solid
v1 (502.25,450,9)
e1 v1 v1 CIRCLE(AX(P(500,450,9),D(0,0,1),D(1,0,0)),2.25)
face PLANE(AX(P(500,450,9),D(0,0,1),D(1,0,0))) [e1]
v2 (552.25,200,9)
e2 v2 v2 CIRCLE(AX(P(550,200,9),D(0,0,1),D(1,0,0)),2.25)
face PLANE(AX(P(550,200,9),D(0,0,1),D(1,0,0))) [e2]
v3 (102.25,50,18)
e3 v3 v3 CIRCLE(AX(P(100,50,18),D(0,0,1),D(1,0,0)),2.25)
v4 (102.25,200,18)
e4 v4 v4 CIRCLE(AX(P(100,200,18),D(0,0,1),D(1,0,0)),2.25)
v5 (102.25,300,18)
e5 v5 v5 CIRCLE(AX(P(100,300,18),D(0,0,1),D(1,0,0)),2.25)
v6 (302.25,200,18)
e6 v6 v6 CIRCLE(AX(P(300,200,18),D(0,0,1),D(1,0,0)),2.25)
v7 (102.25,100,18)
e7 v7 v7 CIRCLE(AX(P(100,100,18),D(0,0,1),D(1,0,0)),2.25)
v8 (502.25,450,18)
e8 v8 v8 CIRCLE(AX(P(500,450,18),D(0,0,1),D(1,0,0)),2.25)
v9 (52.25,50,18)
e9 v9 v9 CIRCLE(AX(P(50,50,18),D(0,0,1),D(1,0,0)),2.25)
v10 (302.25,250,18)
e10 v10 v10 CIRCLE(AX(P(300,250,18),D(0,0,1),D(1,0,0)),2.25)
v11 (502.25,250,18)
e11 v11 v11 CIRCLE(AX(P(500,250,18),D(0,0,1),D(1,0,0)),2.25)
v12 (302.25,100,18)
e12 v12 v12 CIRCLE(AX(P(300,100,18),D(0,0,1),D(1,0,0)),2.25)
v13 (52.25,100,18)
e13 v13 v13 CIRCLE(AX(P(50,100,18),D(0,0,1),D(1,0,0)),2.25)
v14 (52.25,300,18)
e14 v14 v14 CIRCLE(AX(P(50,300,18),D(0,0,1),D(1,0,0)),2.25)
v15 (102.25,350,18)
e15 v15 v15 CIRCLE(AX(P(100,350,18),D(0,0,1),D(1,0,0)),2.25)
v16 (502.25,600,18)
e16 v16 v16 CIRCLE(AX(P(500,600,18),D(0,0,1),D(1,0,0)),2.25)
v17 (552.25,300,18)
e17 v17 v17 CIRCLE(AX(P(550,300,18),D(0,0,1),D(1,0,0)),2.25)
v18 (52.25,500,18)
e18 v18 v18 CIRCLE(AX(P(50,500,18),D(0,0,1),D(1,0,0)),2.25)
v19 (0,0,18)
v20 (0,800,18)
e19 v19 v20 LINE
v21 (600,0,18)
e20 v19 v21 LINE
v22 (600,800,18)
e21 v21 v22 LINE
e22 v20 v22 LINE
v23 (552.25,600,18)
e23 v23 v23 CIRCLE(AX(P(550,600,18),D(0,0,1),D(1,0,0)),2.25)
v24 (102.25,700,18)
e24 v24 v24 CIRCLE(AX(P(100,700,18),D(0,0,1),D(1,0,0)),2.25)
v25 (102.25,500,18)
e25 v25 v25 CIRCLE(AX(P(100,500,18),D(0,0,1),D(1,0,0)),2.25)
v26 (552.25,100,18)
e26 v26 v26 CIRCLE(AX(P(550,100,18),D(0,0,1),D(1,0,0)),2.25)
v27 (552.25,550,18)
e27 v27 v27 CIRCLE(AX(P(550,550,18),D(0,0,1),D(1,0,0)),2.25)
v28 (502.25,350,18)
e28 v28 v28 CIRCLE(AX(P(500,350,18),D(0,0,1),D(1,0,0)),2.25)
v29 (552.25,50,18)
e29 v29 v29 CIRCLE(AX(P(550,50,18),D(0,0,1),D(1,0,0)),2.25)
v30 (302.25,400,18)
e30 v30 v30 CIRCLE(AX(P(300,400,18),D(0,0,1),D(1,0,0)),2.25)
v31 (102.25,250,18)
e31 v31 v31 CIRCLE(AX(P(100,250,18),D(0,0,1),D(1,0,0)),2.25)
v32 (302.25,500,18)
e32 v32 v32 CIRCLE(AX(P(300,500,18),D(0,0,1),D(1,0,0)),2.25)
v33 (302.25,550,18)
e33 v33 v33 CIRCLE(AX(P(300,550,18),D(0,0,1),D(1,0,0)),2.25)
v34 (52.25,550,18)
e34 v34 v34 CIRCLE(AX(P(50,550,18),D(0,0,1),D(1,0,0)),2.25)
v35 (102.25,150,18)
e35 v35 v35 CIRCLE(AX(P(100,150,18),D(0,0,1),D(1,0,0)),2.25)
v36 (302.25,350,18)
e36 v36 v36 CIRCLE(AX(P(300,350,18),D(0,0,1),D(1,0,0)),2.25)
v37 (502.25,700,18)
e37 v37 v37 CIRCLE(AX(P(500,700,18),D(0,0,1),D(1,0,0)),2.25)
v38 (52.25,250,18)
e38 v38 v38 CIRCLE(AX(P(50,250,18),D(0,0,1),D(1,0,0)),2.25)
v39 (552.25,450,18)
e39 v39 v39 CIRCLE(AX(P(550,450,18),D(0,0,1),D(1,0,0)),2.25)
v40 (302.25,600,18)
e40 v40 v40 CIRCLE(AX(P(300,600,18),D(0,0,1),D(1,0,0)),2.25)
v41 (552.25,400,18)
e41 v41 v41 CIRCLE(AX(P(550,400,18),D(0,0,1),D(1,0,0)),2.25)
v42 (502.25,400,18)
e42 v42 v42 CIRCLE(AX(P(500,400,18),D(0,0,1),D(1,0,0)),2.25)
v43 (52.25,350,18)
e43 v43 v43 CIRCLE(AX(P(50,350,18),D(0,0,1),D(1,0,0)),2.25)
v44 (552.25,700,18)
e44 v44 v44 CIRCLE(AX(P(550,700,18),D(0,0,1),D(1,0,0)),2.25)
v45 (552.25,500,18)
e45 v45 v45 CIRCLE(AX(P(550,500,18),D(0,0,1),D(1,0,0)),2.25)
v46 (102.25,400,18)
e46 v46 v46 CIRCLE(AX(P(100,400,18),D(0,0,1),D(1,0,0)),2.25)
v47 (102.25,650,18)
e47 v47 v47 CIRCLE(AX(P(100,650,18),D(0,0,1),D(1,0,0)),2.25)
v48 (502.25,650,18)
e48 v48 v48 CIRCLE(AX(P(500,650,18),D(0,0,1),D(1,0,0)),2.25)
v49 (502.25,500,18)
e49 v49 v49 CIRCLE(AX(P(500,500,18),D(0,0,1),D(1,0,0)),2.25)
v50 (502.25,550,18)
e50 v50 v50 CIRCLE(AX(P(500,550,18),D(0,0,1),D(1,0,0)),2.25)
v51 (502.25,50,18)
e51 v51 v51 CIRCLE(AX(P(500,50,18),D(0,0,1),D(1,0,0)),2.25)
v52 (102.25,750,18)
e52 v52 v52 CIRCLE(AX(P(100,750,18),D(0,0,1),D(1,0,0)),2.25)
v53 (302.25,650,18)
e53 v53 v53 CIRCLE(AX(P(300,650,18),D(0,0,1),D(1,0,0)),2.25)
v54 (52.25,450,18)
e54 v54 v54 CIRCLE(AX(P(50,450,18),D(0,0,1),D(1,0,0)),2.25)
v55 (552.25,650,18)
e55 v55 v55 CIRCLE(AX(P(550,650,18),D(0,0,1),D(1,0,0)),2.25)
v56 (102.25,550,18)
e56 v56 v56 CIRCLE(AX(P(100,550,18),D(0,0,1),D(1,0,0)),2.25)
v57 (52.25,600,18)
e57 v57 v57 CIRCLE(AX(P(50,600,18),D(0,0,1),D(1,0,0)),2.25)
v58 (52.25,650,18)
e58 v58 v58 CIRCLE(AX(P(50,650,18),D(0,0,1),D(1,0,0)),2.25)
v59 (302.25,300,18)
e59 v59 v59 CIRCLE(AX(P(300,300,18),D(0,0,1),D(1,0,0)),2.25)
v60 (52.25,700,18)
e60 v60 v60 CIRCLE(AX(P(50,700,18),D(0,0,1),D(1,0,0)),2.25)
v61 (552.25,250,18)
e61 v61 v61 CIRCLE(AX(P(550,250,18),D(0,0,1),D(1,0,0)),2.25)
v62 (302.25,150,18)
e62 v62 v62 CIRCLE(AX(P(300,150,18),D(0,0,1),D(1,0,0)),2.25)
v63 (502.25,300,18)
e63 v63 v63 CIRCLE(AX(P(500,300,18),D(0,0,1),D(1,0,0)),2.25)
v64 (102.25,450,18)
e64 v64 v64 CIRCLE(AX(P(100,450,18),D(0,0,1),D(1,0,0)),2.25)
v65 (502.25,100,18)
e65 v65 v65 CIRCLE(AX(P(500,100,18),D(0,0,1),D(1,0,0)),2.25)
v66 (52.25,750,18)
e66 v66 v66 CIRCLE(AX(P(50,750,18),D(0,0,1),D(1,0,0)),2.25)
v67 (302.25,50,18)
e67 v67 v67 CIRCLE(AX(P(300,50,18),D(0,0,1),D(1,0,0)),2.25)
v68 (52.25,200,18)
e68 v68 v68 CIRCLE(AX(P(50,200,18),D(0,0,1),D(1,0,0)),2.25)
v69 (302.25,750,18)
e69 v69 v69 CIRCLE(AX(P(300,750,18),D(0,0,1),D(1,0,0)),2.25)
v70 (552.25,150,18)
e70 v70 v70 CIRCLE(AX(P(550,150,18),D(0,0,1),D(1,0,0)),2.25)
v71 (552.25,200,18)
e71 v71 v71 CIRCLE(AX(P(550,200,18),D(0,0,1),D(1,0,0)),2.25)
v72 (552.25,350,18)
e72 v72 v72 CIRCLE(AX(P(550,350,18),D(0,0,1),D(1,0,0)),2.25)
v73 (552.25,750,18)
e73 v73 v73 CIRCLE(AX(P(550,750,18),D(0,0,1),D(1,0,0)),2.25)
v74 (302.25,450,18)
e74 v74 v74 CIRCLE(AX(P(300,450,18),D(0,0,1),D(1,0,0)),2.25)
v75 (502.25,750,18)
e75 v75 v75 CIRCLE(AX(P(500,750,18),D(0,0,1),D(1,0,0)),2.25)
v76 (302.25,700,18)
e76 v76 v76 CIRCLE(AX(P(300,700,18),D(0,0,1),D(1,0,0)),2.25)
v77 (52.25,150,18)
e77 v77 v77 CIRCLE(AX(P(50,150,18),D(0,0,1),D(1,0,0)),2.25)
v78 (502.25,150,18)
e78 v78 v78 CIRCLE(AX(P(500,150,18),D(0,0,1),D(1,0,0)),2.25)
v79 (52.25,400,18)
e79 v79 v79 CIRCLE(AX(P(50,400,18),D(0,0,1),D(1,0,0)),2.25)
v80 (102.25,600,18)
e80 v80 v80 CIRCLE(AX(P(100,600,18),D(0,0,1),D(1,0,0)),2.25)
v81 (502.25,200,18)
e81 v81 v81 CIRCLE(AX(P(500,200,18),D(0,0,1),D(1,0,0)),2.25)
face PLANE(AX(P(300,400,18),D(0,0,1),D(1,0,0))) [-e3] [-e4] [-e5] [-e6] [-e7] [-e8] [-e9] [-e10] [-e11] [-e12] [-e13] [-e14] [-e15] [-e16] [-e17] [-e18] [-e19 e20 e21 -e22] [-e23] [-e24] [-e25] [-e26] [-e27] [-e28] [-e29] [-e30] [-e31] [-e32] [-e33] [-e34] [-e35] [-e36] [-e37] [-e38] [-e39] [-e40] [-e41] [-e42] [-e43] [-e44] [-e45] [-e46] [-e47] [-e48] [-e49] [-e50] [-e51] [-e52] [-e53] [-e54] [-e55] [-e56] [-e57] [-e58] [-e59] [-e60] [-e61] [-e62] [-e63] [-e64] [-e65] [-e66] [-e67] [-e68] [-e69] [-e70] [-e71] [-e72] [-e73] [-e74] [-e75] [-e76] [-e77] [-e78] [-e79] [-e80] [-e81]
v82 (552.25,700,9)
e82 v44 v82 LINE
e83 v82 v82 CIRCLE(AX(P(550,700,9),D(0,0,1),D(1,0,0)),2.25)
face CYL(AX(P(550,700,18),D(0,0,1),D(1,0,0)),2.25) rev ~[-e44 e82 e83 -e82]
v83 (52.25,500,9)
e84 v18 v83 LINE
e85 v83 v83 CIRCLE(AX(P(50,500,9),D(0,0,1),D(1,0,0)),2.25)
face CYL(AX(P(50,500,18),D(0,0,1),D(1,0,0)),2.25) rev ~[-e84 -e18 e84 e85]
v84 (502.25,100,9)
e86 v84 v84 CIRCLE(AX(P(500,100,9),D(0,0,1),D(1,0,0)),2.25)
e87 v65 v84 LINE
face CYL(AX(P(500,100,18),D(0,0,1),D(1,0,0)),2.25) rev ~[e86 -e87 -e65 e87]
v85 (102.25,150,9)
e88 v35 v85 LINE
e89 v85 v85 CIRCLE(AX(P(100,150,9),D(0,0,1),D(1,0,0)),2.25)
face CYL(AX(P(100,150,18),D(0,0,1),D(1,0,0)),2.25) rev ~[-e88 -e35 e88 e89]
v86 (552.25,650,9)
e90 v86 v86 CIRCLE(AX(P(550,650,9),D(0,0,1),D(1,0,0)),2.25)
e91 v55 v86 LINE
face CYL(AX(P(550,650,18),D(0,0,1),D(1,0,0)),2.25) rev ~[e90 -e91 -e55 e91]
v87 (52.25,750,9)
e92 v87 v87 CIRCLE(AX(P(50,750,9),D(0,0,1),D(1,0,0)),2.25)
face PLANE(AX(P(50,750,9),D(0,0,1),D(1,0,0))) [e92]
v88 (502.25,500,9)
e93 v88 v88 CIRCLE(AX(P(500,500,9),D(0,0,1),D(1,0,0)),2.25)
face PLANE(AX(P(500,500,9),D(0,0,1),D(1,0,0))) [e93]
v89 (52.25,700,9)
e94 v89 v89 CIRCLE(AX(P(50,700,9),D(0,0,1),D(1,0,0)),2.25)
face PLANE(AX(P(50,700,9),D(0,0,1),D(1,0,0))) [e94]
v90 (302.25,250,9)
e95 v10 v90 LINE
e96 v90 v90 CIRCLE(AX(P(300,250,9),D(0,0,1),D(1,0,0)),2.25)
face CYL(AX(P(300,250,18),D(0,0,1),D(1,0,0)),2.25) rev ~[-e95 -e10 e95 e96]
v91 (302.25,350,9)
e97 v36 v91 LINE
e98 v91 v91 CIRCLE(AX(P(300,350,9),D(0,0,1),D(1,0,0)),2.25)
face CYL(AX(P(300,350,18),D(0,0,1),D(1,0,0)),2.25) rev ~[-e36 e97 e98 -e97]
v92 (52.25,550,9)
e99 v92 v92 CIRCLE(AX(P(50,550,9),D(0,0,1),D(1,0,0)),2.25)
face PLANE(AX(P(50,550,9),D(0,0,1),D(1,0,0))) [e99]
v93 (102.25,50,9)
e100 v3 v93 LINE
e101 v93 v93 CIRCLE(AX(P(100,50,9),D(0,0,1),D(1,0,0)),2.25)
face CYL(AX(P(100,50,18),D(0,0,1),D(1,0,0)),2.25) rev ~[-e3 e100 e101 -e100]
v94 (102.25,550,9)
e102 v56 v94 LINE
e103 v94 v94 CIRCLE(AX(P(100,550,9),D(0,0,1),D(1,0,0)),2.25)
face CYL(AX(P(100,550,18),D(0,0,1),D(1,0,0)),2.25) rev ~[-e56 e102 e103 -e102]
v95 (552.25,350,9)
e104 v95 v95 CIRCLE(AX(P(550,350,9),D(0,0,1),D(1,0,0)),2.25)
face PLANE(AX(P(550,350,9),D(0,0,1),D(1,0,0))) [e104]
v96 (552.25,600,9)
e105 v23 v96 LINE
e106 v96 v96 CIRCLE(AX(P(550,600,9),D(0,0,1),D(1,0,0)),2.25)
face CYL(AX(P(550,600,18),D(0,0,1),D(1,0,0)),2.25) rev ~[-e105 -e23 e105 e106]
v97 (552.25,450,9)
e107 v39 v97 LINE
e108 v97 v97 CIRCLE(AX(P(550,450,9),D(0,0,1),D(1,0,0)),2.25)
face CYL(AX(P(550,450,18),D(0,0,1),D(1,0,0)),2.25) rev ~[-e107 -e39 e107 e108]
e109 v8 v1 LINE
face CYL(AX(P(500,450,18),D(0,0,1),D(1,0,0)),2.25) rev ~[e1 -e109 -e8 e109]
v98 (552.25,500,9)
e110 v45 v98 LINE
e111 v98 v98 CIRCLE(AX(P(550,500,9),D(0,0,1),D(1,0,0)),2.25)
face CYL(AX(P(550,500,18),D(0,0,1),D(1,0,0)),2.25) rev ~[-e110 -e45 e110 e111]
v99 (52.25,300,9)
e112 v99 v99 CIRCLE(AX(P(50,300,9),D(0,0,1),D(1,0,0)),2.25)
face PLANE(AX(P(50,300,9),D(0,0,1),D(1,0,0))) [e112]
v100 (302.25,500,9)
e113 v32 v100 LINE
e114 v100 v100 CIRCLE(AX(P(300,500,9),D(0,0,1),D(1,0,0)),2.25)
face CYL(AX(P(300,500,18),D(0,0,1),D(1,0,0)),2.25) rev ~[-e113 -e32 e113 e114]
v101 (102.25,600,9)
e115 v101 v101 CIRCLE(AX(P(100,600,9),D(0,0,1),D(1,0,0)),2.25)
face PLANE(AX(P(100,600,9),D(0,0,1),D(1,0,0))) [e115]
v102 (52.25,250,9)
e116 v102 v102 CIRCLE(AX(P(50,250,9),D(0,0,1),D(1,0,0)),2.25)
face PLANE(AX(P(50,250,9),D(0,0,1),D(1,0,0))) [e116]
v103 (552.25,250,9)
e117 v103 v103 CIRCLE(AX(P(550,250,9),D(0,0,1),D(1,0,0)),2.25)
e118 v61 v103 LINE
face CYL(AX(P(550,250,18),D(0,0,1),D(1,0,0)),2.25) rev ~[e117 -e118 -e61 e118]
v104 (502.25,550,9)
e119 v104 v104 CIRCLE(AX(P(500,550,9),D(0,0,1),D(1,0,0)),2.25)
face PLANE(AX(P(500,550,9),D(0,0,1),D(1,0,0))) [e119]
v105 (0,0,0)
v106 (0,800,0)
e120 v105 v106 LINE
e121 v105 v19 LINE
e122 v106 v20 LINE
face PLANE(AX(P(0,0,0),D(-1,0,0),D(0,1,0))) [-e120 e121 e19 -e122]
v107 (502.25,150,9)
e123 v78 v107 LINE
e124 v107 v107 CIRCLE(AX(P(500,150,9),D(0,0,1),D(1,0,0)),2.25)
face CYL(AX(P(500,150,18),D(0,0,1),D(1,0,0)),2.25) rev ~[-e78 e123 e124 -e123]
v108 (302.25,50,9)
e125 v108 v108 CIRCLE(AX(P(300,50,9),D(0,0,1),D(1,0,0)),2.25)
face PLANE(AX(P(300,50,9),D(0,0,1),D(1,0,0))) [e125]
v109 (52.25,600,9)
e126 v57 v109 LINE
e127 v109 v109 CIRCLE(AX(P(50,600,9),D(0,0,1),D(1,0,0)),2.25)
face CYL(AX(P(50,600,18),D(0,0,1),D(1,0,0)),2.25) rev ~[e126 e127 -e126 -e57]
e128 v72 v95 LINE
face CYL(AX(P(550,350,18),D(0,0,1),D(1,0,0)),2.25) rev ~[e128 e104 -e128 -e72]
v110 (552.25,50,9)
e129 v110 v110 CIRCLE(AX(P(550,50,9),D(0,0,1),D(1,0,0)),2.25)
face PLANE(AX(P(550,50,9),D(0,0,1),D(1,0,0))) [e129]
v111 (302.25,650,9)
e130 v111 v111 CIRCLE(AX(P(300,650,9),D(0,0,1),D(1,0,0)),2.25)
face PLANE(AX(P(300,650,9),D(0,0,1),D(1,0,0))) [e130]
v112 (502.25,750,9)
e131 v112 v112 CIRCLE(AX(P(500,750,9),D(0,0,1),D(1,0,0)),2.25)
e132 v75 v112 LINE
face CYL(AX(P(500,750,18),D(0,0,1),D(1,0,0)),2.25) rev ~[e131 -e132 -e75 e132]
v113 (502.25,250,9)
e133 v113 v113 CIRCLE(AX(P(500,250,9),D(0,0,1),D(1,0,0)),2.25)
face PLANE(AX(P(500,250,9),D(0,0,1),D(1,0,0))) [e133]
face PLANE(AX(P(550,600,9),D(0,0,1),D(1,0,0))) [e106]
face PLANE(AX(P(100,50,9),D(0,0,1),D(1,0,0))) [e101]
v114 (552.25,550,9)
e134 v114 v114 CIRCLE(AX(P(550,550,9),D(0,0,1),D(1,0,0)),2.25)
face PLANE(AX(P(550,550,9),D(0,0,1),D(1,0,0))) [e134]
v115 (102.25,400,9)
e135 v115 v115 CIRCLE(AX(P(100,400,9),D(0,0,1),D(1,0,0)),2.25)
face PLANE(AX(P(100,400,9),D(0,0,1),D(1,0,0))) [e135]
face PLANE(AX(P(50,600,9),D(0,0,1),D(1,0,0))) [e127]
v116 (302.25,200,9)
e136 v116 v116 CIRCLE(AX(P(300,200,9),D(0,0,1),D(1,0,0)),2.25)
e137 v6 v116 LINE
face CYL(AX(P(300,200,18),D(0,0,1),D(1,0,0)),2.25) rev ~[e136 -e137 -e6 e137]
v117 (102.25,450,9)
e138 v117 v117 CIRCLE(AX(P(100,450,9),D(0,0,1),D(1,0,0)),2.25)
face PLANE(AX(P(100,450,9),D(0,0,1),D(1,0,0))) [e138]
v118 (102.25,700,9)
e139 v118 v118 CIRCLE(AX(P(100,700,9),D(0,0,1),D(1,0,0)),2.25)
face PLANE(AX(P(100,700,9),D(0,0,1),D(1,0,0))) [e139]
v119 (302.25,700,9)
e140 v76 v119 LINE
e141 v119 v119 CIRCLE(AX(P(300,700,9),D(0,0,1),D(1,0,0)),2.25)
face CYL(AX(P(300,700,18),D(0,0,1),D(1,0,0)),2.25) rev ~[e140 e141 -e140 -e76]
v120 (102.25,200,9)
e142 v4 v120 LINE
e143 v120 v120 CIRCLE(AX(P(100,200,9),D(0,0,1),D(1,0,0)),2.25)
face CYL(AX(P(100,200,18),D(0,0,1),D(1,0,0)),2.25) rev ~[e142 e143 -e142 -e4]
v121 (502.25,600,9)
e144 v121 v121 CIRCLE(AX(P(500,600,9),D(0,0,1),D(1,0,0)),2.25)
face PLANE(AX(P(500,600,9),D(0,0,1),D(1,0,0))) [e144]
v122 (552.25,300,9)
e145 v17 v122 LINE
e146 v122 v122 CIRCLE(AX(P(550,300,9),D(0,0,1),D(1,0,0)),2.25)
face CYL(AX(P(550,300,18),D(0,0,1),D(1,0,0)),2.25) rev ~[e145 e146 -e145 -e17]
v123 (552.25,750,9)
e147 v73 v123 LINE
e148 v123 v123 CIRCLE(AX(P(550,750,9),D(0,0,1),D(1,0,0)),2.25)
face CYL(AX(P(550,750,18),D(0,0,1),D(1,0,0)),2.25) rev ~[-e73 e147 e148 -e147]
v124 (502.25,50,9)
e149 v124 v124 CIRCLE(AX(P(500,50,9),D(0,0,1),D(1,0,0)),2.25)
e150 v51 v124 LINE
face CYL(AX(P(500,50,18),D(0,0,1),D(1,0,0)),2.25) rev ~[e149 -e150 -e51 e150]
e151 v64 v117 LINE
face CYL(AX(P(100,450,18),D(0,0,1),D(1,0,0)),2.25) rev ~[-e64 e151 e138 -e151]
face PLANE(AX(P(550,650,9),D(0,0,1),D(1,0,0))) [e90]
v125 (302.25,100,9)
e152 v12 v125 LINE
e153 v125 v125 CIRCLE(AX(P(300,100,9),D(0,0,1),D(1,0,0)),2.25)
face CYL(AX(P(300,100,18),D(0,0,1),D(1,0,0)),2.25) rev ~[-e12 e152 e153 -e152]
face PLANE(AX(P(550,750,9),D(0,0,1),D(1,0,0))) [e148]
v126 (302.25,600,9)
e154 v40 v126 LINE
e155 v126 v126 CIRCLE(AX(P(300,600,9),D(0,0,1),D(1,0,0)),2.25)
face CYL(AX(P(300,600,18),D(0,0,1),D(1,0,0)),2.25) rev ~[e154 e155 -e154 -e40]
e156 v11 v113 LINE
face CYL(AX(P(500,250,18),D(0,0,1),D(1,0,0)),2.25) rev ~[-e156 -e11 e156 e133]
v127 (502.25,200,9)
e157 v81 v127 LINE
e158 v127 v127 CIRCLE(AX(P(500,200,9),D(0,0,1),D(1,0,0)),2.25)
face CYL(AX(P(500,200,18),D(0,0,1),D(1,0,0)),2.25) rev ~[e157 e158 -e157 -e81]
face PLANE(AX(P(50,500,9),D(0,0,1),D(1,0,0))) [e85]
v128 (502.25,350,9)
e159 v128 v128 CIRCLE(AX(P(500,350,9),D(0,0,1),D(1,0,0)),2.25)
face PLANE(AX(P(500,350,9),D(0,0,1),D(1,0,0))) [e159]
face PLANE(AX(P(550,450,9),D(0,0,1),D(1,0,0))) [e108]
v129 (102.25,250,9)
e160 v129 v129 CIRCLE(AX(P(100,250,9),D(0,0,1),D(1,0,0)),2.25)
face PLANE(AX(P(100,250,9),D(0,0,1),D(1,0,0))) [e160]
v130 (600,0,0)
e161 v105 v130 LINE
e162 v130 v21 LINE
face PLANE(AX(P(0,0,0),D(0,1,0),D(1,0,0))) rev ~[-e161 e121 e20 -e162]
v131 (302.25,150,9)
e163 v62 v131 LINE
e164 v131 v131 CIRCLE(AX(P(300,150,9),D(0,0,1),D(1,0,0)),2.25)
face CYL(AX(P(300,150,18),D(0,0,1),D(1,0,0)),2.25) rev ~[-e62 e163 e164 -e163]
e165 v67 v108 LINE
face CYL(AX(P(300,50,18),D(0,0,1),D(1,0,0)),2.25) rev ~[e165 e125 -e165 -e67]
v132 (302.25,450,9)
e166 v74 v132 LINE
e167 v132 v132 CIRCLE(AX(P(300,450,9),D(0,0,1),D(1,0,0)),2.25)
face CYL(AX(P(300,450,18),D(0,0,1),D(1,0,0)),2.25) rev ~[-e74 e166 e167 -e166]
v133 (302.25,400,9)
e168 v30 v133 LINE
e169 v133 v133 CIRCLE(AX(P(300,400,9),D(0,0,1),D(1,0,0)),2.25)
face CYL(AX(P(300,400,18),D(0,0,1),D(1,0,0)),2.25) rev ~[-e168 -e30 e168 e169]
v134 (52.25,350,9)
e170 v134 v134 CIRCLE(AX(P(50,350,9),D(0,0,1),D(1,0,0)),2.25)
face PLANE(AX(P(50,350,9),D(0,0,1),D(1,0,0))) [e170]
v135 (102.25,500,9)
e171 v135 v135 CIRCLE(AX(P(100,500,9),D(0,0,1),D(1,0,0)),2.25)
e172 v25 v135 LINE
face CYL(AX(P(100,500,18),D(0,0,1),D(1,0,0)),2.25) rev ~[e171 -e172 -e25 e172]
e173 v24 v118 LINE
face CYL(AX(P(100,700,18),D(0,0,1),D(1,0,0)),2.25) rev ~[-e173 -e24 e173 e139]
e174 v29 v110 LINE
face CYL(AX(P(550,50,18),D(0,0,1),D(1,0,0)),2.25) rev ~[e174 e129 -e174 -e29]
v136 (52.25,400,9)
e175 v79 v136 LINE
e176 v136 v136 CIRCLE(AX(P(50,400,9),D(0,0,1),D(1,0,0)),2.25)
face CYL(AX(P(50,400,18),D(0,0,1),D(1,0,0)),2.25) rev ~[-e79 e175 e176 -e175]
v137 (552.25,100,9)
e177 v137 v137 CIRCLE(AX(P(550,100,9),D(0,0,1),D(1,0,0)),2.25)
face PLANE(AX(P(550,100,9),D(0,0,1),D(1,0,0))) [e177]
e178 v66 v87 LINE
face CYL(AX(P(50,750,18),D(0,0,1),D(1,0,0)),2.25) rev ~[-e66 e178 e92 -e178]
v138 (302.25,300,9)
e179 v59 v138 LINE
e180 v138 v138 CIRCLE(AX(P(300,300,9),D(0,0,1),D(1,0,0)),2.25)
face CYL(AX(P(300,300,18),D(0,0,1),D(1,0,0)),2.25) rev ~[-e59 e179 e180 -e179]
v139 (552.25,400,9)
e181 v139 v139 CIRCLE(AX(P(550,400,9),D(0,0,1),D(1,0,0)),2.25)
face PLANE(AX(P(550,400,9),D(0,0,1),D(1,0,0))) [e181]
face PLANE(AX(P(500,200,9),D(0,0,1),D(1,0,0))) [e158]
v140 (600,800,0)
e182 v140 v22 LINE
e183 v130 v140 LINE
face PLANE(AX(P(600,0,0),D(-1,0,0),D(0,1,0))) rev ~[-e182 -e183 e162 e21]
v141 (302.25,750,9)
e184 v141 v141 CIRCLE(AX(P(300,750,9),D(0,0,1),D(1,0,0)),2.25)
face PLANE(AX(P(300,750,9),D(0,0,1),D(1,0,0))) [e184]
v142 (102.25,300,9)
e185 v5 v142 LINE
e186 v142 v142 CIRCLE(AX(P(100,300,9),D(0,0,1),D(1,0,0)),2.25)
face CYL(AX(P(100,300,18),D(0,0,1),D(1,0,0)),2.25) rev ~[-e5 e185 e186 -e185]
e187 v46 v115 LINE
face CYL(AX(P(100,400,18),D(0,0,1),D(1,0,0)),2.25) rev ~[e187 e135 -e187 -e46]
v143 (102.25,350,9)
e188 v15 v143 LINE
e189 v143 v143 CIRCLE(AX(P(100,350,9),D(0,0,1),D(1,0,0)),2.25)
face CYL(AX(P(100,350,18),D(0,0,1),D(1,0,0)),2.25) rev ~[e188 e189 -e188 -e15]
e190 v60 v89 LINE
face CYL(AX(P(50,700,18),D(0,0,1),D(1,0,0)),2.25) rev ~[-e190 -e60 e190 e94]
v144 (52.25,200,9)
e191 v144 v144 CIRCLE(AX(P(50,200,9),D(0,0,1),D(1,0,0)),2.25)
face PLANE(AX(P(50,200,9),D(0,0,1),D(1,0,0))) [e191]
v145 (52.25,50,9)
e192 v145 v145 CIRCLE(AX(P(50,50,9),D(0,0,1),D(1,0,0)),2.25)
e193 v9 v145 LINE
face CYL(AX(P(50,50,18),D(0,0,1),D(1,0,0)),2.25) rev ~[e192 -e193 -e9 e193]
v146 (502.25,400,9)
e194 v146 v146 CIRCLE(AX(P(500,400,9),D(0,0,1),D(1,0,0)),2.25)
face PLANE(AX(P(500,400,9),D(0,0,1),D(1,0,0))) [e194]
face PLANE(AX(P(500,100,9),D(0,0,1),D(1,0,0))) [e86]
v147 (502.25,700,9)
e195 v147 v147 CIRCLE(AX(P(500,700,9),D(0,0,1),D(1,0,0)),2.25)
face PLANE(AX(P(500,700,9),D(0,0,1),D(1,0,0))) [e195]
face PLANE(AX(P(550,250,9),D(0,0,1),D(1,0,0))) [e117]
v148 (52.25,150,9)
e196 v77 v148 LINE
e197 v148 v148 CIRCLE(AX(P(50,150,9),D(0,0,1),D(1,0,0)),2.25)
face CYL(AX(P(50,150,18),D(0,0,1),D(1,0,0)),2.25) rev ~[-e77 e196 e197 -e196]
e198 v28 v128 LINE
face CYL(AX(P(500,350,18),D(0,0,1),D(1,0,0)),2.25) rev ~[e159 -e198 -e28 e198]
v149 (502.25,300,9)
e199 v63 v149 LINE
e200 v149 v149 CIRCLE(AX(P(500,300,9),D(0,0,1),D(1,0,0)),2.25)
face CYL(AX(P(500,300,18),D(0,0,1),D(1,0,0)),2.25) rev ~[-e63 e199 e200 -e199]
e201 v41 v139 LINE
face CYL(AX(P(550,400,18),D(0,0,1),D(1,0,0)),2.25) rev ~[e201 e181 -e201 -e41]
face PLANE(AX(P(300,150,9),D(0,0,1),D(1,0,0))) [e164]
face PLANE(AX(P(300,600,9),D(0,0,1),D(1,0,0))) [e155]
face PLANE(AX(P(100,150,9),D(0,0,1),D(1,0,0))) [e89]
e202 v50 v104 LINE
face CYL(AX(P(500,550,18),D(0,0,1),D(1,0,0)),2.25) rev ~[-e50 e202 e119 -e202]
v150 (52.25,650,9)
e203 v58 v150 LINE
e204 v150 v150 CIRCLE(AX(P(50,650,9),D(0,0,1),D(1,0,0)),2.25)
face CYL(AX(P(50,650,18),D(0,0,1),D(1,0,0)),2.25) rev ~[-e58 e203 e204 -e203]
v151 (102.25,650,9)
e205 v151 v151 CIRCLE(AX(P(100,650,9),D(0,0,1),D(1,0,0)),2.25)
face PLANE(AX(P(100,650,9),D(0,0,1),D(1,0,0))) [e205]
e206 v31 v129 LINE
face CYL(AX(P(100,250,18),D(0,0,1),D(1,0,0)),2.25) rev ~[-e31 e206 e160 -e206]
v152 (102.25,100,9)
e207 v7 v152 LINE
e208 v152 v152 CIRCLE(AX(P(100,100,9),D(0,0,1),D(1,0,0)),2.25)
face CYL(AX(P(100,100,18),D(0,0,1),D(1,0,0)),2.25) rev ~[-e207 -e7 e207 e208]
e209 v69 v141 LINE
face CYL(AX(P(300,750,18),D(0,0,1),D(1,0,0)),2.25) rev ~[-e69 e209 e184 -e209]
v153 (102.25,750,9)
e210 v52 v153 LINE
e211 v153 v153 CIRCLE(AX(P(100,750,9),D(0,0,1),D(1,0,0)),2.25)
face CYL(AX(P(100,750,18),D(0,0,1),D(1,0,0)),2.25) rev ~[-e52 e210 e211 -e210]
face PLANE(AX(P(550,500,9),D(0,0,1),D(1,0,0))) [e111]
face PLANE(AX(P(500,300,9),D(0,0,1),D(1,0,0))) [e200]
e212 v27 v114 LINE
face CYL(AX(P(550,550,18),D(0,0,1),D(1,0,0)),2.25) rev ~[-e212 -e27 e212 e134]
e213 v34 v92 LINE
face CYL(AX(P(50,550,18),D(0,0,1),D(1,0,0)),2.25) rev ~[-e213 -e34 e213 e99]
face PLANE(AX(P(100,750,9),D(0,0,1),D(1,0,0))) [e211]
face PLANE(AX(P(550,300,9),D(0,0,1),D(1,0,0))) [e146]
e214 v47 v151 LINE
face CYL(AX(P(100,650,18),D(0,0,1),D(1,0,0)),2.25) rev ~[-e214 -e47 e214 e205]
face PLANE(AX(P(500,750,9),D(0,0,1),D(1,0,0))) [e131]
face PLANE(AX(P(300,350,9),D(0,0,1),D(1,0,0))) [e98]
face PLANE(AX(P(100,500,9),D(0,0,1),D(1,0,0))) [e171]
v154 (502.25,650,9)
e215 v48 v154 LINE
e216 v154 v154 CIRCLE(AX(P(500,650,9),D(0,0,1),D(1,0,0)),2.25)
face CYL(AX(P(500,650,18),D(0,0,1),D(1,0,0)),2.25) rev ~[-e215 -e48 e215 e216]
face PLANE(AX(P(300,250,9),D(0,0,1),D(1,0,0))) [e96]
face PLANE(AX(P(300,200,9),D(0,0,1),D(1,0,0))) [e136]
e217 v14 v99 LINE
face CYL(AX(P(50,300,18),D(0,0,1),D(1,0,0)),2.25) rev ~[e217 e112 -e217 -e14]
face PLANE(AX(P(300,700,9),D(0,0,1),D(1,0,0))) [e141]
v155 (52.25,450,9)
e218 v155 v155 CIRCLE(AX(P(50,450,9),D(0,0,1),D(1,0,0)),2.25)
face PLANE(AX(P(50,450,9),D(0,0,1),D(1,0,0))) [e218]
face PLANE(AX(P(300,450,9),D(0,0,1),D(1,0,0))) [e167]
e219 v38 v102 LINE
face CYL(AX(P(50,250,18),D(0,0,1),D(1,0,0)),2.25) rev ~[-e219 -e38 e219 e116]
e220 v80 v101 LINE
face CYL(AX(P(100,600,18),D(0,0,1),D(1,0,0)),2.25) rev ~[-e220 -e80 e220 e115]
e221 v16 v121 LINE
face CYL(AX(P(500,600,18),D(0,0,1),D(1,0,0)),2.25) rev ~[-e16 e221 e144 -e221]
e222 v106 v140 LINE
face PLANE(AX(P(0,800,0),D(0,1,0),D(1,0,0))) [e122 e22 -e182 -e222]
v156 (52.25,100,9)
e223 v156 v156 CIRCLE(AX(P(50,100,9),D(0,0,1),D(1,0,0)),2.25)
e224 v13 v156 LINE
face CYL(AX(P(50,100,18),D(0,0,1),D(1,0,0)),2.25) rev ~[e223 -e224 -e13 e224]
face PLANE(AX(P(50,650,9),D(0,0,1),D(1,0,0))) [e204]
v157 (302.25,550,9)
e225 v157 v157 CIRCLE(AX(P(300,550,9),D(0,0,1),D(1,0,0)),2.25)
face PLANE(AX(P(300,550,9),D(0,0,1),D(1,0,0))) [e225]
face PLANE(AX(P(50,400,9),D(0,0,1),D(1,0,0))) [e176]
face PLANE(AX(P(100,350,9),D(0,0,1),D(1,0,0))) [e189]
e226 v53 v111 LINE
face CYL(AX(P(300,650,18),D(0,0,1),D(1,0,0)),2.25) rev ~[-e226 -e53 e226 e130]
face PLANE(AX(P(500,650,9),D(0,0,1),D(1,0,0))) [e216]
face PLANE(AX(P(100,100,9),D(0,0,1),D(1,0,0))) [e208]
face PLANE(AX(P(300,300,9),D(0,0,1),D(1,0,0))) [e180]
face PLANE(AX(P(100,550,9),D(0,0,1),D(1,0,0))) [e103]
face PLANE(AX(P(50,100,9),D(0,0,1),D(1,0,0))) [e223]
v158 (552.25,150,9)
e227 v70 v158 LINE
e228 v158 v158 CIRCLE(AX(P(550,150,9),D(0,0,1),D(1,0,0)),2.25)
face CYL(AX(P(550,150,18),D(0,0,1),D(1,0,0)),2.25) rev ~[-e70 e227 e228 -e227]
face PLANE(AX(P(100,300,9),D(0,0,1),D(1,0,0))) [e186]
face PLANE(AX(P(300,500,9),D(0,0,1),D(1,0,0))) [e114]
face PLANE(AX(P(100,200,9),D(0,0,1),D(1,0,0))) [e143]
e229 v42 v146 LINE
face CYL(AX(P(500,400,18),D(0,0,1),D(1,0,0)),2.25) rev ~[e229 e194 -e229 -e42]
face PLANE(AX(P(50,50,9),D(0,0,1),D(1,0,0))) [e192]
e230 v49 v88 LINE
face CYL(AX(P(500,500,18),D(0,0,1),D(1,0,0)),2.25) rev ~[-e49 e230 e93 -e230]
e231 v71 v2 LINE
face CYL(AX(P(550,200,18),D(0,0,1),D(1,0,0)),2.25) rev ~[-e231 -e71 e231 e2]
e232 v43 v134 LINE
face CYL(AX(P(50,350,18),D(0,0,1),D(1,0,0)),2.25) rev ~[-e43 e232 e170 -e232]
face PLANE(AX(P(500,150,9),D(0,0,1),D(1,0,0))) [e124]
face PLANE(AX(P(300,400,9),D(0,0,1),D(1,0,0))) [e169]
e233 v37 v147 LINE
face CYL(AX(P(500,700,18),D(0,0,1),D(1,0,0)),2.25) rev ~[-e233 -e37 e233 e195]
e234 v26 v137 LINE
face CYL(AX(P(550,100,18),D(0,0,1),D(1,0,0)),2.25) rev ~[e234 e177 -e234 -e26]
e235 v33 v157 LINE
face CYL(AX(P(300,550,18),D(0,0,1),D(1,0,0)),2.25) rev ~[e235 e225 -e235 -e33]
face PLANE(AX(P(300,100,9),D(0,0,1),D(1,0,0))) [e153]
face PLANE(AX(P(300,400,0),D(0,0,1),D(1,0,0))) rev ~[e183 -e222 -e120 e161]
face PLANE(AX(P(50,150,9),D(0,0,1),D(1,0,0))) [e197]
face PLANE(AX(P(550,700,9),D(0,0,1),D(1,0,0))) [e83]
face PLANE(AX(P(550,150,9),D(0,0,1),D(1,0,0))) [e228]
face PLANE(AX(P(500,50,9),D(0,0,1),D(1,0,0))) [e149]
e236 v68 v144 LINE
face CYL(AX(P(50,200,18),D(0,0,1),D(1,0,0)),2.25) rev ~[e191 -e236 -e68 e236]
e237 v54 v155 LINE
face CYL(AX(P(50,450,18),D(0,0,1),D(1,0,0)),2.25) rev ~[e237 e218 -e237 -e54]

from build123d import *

# Parameters (mm, degrees)
SKETCH_1_W          = 600
SKETCH_1_H          = 800
EXTRUDE_1_DEPTH     = 18
SKETCH_2_R          = 2.25
CUT_EXTRUDE_1_DEPTH = 9


with BuildPart() as part:
    # Эскиз1 → Бобышка-Вытянуть1 (new body)
    with BuildSketch(Plane.XY):
        with Locations((300, 400)):
            Rectangle(SKETCH_1_W, SKETCH_1_H)
    extrude(amount=EXTRUDE_1_DEPTH)

    # Эскиз2 → Вырез-Вытянуть1 (cut)
    with BuildSketch(Plane.XY.offset(18)):
        with Locations((550, 50)):
            Circle(SKETCH_2_R)
        with Locations((500, 50)):
            Circle(SKETCH_2_R)
        with Locations((300, 50)):
            Circle(SKETCH_2_R)
        with Locations((100, 50)):
            Circle(SKETCH_2_R)
        with Locations((50, 50)):
            Circle(SKETCH_2_R)
        with Locations((550, 100)):
            Circle(SKETCH_2_R)
        with Locations((500, 100)):
            Circle(SKETCH_2_R)
        with Locations((300, 100)):
            Circle(SKETCH_2_R)
        with Locations((100, 100)):
            Circle(SKETCH_2_R)
        with Locations((50, 100)):
            Circle(SKETCH_2_R)
        with Locations((550, 150)):
            Circle(SKETCH_2_R)
        with Locations((500, 150)):
            Circle(SKETCH_2_R)
        with Locations((300, 150)):
            Circle(SKETCH_2_R)
        with Locations((100, 150)):
            Circle(SKETCH_2_R)
        with Locations((50, 150)):
            Circle(SKETCH_2_R)
        with Locations((550, 200)):
            Circle(SKETCH_2_R)
        with Locations((500, 200)):
            Circle(SKETCH_2_R)
        with Locations((300, 200)):
            Circle(SKETCH_2_R)
        with Locations((100, 200)):
            Circle(SKETCH_2_R)
        with Locations((50, 200)):
            Circle(SKETCH_2_R)
        with Locations((550, 250)):
            Circle(SKETCH_2_R)
        with Locations((500, 250)):
            Circle(SKETCH_2_R)
        with Locations((300, 250)):
            Circle(SKETCH_2_R)
        with Locations((100, 250)):
            Circle(SKETCH_2_R)
        with Locations((50, 250)):
            Circle(SKETCH_2_R)
        with Locations((550, 300)):
            Circle(SKETCH_2_R)
        with Locations((500, 300)):
            Circle(SKETCH_2_R)
        with Locations((300, 300)):
            Circle(SKETCH_2_R)
        with Locations((100, 300)):
            Circle(SKETCH_2_R)
        with Locations((50, 300)):
            Circle(SKETCH_2_R)
        with Locations((550, 350)):
            Circle(SKETCH_2_R)
        with Locations((500, 350)):
            Circle(SKETCH_2_R)
        with Locations((300, 350)):
            Circle(SKETCH_2_R)
        with Locations((100, 350)):
            Circle(SKETCH_2_R)
        with Locations((50, 350)):
            Circle(SKETCH_2_R)
        with Locations((550, 400)):
            Circle(SKETCH_2_R)
        with Locations((500, 400)):
            Circle(SKETCH_2_R)
        with Locations((300, 400)):
            Circle(SKETCH_2_R)
        with Locations((100, 400)):
            Circle(SKETCH_2_R)
        with Locations((50, 400)):
            Circle(SKETCH_2_R)
        with Locations((550, 450)):
            Circle(SKETCH_2_R)
        with Locations((500, 450)):
            Circle(SKETCH_2_R)
        with Locations((300, 450)):
            Circle(SKETCH_2_R)
        with Locations((100, 450)):
            Circle(SKETCH_2_R)
        with Locations((50, 450)):
            Circle(SKETCH_2_R)
        with Locations((550, 500)):
            Circle(SKETCH_2_R)
        with Locations((500, 500)):
            Circle(SKETCH_2_R)
        with Locations((300, 500)):
            Circle(SKETCH_2_R)
        with Locations((100, 500)):
            Circle(SKETCH_2_R)
        with Locations((50, 500)):
            Circle(SKETCH_2_R)
        with Locations((550, 550)):
            Circle(SKETCH_2_R)
        with Locations((500, 550)):
            Circle(SKETCH_2_R)
        with Locations((300, 550)):
            Circle(SKETCH_2_R)
        with Locations((100, 550)):
            Circle(SKETCH_2_R)
        with Locations((50, 550)):
            Circle(SKETCH_2_R)
        with Locations((550, 600)):
            Circle(SKETCH_2_R)
        with Locations((500, 600)):
            Circle(SKETCH_2_R)
        with Locations((300, 600)):
            Circle(SKETCH_2_R)
        with Locations((100, 600)):
            Circle(SKETCH_2_R)
        with Locations((50, 600)):
            Circle(SKETCH_2_R)
        with Locations((550, 650)):
            Circle(SKETCH_2_R)
        with Locations((500, 650)):
            Circle(SKETCH_2_R)
        with Locations((300, 650)):
            Circle(SKETCH_2_R)
        with Locations((100, 650)):
            Circle(SKETCH_2_R)
        with Locations((50, 650)):
            Circle(SKETCH_2_R)
        with Locations((550, 700)):
            Circle(SKETCH_2_R)
        with Locations((500, 700)):
            Circle(SKETCH_2_R)
        with Locations((300, 700)):
            Circle(SKETCH_2_R)
        with Locations((100, 700)):
            Circle(SKETCH_2_R)
        with Locations((50, 700)):
            Circle(SKETCH_2_R)
        with Locations((550, 750)):
            Circle(SKETCH_2_R)
        with Locations((500, 750)):
            Circle(SKETCH_2_R)
        with Locations((300, 750)):
            Circle(SKETCH_2_R)
        with Locations((100, 750)):
            Circle(SKETCH_2_R)
        with Locations((50, 750)):
            Circle(SKETCH_2_R)
    extrude(amount=-CUT_EXTRUDE_1_DEPTH, mode=Mode.SUBTRACT)


solid = part.part
